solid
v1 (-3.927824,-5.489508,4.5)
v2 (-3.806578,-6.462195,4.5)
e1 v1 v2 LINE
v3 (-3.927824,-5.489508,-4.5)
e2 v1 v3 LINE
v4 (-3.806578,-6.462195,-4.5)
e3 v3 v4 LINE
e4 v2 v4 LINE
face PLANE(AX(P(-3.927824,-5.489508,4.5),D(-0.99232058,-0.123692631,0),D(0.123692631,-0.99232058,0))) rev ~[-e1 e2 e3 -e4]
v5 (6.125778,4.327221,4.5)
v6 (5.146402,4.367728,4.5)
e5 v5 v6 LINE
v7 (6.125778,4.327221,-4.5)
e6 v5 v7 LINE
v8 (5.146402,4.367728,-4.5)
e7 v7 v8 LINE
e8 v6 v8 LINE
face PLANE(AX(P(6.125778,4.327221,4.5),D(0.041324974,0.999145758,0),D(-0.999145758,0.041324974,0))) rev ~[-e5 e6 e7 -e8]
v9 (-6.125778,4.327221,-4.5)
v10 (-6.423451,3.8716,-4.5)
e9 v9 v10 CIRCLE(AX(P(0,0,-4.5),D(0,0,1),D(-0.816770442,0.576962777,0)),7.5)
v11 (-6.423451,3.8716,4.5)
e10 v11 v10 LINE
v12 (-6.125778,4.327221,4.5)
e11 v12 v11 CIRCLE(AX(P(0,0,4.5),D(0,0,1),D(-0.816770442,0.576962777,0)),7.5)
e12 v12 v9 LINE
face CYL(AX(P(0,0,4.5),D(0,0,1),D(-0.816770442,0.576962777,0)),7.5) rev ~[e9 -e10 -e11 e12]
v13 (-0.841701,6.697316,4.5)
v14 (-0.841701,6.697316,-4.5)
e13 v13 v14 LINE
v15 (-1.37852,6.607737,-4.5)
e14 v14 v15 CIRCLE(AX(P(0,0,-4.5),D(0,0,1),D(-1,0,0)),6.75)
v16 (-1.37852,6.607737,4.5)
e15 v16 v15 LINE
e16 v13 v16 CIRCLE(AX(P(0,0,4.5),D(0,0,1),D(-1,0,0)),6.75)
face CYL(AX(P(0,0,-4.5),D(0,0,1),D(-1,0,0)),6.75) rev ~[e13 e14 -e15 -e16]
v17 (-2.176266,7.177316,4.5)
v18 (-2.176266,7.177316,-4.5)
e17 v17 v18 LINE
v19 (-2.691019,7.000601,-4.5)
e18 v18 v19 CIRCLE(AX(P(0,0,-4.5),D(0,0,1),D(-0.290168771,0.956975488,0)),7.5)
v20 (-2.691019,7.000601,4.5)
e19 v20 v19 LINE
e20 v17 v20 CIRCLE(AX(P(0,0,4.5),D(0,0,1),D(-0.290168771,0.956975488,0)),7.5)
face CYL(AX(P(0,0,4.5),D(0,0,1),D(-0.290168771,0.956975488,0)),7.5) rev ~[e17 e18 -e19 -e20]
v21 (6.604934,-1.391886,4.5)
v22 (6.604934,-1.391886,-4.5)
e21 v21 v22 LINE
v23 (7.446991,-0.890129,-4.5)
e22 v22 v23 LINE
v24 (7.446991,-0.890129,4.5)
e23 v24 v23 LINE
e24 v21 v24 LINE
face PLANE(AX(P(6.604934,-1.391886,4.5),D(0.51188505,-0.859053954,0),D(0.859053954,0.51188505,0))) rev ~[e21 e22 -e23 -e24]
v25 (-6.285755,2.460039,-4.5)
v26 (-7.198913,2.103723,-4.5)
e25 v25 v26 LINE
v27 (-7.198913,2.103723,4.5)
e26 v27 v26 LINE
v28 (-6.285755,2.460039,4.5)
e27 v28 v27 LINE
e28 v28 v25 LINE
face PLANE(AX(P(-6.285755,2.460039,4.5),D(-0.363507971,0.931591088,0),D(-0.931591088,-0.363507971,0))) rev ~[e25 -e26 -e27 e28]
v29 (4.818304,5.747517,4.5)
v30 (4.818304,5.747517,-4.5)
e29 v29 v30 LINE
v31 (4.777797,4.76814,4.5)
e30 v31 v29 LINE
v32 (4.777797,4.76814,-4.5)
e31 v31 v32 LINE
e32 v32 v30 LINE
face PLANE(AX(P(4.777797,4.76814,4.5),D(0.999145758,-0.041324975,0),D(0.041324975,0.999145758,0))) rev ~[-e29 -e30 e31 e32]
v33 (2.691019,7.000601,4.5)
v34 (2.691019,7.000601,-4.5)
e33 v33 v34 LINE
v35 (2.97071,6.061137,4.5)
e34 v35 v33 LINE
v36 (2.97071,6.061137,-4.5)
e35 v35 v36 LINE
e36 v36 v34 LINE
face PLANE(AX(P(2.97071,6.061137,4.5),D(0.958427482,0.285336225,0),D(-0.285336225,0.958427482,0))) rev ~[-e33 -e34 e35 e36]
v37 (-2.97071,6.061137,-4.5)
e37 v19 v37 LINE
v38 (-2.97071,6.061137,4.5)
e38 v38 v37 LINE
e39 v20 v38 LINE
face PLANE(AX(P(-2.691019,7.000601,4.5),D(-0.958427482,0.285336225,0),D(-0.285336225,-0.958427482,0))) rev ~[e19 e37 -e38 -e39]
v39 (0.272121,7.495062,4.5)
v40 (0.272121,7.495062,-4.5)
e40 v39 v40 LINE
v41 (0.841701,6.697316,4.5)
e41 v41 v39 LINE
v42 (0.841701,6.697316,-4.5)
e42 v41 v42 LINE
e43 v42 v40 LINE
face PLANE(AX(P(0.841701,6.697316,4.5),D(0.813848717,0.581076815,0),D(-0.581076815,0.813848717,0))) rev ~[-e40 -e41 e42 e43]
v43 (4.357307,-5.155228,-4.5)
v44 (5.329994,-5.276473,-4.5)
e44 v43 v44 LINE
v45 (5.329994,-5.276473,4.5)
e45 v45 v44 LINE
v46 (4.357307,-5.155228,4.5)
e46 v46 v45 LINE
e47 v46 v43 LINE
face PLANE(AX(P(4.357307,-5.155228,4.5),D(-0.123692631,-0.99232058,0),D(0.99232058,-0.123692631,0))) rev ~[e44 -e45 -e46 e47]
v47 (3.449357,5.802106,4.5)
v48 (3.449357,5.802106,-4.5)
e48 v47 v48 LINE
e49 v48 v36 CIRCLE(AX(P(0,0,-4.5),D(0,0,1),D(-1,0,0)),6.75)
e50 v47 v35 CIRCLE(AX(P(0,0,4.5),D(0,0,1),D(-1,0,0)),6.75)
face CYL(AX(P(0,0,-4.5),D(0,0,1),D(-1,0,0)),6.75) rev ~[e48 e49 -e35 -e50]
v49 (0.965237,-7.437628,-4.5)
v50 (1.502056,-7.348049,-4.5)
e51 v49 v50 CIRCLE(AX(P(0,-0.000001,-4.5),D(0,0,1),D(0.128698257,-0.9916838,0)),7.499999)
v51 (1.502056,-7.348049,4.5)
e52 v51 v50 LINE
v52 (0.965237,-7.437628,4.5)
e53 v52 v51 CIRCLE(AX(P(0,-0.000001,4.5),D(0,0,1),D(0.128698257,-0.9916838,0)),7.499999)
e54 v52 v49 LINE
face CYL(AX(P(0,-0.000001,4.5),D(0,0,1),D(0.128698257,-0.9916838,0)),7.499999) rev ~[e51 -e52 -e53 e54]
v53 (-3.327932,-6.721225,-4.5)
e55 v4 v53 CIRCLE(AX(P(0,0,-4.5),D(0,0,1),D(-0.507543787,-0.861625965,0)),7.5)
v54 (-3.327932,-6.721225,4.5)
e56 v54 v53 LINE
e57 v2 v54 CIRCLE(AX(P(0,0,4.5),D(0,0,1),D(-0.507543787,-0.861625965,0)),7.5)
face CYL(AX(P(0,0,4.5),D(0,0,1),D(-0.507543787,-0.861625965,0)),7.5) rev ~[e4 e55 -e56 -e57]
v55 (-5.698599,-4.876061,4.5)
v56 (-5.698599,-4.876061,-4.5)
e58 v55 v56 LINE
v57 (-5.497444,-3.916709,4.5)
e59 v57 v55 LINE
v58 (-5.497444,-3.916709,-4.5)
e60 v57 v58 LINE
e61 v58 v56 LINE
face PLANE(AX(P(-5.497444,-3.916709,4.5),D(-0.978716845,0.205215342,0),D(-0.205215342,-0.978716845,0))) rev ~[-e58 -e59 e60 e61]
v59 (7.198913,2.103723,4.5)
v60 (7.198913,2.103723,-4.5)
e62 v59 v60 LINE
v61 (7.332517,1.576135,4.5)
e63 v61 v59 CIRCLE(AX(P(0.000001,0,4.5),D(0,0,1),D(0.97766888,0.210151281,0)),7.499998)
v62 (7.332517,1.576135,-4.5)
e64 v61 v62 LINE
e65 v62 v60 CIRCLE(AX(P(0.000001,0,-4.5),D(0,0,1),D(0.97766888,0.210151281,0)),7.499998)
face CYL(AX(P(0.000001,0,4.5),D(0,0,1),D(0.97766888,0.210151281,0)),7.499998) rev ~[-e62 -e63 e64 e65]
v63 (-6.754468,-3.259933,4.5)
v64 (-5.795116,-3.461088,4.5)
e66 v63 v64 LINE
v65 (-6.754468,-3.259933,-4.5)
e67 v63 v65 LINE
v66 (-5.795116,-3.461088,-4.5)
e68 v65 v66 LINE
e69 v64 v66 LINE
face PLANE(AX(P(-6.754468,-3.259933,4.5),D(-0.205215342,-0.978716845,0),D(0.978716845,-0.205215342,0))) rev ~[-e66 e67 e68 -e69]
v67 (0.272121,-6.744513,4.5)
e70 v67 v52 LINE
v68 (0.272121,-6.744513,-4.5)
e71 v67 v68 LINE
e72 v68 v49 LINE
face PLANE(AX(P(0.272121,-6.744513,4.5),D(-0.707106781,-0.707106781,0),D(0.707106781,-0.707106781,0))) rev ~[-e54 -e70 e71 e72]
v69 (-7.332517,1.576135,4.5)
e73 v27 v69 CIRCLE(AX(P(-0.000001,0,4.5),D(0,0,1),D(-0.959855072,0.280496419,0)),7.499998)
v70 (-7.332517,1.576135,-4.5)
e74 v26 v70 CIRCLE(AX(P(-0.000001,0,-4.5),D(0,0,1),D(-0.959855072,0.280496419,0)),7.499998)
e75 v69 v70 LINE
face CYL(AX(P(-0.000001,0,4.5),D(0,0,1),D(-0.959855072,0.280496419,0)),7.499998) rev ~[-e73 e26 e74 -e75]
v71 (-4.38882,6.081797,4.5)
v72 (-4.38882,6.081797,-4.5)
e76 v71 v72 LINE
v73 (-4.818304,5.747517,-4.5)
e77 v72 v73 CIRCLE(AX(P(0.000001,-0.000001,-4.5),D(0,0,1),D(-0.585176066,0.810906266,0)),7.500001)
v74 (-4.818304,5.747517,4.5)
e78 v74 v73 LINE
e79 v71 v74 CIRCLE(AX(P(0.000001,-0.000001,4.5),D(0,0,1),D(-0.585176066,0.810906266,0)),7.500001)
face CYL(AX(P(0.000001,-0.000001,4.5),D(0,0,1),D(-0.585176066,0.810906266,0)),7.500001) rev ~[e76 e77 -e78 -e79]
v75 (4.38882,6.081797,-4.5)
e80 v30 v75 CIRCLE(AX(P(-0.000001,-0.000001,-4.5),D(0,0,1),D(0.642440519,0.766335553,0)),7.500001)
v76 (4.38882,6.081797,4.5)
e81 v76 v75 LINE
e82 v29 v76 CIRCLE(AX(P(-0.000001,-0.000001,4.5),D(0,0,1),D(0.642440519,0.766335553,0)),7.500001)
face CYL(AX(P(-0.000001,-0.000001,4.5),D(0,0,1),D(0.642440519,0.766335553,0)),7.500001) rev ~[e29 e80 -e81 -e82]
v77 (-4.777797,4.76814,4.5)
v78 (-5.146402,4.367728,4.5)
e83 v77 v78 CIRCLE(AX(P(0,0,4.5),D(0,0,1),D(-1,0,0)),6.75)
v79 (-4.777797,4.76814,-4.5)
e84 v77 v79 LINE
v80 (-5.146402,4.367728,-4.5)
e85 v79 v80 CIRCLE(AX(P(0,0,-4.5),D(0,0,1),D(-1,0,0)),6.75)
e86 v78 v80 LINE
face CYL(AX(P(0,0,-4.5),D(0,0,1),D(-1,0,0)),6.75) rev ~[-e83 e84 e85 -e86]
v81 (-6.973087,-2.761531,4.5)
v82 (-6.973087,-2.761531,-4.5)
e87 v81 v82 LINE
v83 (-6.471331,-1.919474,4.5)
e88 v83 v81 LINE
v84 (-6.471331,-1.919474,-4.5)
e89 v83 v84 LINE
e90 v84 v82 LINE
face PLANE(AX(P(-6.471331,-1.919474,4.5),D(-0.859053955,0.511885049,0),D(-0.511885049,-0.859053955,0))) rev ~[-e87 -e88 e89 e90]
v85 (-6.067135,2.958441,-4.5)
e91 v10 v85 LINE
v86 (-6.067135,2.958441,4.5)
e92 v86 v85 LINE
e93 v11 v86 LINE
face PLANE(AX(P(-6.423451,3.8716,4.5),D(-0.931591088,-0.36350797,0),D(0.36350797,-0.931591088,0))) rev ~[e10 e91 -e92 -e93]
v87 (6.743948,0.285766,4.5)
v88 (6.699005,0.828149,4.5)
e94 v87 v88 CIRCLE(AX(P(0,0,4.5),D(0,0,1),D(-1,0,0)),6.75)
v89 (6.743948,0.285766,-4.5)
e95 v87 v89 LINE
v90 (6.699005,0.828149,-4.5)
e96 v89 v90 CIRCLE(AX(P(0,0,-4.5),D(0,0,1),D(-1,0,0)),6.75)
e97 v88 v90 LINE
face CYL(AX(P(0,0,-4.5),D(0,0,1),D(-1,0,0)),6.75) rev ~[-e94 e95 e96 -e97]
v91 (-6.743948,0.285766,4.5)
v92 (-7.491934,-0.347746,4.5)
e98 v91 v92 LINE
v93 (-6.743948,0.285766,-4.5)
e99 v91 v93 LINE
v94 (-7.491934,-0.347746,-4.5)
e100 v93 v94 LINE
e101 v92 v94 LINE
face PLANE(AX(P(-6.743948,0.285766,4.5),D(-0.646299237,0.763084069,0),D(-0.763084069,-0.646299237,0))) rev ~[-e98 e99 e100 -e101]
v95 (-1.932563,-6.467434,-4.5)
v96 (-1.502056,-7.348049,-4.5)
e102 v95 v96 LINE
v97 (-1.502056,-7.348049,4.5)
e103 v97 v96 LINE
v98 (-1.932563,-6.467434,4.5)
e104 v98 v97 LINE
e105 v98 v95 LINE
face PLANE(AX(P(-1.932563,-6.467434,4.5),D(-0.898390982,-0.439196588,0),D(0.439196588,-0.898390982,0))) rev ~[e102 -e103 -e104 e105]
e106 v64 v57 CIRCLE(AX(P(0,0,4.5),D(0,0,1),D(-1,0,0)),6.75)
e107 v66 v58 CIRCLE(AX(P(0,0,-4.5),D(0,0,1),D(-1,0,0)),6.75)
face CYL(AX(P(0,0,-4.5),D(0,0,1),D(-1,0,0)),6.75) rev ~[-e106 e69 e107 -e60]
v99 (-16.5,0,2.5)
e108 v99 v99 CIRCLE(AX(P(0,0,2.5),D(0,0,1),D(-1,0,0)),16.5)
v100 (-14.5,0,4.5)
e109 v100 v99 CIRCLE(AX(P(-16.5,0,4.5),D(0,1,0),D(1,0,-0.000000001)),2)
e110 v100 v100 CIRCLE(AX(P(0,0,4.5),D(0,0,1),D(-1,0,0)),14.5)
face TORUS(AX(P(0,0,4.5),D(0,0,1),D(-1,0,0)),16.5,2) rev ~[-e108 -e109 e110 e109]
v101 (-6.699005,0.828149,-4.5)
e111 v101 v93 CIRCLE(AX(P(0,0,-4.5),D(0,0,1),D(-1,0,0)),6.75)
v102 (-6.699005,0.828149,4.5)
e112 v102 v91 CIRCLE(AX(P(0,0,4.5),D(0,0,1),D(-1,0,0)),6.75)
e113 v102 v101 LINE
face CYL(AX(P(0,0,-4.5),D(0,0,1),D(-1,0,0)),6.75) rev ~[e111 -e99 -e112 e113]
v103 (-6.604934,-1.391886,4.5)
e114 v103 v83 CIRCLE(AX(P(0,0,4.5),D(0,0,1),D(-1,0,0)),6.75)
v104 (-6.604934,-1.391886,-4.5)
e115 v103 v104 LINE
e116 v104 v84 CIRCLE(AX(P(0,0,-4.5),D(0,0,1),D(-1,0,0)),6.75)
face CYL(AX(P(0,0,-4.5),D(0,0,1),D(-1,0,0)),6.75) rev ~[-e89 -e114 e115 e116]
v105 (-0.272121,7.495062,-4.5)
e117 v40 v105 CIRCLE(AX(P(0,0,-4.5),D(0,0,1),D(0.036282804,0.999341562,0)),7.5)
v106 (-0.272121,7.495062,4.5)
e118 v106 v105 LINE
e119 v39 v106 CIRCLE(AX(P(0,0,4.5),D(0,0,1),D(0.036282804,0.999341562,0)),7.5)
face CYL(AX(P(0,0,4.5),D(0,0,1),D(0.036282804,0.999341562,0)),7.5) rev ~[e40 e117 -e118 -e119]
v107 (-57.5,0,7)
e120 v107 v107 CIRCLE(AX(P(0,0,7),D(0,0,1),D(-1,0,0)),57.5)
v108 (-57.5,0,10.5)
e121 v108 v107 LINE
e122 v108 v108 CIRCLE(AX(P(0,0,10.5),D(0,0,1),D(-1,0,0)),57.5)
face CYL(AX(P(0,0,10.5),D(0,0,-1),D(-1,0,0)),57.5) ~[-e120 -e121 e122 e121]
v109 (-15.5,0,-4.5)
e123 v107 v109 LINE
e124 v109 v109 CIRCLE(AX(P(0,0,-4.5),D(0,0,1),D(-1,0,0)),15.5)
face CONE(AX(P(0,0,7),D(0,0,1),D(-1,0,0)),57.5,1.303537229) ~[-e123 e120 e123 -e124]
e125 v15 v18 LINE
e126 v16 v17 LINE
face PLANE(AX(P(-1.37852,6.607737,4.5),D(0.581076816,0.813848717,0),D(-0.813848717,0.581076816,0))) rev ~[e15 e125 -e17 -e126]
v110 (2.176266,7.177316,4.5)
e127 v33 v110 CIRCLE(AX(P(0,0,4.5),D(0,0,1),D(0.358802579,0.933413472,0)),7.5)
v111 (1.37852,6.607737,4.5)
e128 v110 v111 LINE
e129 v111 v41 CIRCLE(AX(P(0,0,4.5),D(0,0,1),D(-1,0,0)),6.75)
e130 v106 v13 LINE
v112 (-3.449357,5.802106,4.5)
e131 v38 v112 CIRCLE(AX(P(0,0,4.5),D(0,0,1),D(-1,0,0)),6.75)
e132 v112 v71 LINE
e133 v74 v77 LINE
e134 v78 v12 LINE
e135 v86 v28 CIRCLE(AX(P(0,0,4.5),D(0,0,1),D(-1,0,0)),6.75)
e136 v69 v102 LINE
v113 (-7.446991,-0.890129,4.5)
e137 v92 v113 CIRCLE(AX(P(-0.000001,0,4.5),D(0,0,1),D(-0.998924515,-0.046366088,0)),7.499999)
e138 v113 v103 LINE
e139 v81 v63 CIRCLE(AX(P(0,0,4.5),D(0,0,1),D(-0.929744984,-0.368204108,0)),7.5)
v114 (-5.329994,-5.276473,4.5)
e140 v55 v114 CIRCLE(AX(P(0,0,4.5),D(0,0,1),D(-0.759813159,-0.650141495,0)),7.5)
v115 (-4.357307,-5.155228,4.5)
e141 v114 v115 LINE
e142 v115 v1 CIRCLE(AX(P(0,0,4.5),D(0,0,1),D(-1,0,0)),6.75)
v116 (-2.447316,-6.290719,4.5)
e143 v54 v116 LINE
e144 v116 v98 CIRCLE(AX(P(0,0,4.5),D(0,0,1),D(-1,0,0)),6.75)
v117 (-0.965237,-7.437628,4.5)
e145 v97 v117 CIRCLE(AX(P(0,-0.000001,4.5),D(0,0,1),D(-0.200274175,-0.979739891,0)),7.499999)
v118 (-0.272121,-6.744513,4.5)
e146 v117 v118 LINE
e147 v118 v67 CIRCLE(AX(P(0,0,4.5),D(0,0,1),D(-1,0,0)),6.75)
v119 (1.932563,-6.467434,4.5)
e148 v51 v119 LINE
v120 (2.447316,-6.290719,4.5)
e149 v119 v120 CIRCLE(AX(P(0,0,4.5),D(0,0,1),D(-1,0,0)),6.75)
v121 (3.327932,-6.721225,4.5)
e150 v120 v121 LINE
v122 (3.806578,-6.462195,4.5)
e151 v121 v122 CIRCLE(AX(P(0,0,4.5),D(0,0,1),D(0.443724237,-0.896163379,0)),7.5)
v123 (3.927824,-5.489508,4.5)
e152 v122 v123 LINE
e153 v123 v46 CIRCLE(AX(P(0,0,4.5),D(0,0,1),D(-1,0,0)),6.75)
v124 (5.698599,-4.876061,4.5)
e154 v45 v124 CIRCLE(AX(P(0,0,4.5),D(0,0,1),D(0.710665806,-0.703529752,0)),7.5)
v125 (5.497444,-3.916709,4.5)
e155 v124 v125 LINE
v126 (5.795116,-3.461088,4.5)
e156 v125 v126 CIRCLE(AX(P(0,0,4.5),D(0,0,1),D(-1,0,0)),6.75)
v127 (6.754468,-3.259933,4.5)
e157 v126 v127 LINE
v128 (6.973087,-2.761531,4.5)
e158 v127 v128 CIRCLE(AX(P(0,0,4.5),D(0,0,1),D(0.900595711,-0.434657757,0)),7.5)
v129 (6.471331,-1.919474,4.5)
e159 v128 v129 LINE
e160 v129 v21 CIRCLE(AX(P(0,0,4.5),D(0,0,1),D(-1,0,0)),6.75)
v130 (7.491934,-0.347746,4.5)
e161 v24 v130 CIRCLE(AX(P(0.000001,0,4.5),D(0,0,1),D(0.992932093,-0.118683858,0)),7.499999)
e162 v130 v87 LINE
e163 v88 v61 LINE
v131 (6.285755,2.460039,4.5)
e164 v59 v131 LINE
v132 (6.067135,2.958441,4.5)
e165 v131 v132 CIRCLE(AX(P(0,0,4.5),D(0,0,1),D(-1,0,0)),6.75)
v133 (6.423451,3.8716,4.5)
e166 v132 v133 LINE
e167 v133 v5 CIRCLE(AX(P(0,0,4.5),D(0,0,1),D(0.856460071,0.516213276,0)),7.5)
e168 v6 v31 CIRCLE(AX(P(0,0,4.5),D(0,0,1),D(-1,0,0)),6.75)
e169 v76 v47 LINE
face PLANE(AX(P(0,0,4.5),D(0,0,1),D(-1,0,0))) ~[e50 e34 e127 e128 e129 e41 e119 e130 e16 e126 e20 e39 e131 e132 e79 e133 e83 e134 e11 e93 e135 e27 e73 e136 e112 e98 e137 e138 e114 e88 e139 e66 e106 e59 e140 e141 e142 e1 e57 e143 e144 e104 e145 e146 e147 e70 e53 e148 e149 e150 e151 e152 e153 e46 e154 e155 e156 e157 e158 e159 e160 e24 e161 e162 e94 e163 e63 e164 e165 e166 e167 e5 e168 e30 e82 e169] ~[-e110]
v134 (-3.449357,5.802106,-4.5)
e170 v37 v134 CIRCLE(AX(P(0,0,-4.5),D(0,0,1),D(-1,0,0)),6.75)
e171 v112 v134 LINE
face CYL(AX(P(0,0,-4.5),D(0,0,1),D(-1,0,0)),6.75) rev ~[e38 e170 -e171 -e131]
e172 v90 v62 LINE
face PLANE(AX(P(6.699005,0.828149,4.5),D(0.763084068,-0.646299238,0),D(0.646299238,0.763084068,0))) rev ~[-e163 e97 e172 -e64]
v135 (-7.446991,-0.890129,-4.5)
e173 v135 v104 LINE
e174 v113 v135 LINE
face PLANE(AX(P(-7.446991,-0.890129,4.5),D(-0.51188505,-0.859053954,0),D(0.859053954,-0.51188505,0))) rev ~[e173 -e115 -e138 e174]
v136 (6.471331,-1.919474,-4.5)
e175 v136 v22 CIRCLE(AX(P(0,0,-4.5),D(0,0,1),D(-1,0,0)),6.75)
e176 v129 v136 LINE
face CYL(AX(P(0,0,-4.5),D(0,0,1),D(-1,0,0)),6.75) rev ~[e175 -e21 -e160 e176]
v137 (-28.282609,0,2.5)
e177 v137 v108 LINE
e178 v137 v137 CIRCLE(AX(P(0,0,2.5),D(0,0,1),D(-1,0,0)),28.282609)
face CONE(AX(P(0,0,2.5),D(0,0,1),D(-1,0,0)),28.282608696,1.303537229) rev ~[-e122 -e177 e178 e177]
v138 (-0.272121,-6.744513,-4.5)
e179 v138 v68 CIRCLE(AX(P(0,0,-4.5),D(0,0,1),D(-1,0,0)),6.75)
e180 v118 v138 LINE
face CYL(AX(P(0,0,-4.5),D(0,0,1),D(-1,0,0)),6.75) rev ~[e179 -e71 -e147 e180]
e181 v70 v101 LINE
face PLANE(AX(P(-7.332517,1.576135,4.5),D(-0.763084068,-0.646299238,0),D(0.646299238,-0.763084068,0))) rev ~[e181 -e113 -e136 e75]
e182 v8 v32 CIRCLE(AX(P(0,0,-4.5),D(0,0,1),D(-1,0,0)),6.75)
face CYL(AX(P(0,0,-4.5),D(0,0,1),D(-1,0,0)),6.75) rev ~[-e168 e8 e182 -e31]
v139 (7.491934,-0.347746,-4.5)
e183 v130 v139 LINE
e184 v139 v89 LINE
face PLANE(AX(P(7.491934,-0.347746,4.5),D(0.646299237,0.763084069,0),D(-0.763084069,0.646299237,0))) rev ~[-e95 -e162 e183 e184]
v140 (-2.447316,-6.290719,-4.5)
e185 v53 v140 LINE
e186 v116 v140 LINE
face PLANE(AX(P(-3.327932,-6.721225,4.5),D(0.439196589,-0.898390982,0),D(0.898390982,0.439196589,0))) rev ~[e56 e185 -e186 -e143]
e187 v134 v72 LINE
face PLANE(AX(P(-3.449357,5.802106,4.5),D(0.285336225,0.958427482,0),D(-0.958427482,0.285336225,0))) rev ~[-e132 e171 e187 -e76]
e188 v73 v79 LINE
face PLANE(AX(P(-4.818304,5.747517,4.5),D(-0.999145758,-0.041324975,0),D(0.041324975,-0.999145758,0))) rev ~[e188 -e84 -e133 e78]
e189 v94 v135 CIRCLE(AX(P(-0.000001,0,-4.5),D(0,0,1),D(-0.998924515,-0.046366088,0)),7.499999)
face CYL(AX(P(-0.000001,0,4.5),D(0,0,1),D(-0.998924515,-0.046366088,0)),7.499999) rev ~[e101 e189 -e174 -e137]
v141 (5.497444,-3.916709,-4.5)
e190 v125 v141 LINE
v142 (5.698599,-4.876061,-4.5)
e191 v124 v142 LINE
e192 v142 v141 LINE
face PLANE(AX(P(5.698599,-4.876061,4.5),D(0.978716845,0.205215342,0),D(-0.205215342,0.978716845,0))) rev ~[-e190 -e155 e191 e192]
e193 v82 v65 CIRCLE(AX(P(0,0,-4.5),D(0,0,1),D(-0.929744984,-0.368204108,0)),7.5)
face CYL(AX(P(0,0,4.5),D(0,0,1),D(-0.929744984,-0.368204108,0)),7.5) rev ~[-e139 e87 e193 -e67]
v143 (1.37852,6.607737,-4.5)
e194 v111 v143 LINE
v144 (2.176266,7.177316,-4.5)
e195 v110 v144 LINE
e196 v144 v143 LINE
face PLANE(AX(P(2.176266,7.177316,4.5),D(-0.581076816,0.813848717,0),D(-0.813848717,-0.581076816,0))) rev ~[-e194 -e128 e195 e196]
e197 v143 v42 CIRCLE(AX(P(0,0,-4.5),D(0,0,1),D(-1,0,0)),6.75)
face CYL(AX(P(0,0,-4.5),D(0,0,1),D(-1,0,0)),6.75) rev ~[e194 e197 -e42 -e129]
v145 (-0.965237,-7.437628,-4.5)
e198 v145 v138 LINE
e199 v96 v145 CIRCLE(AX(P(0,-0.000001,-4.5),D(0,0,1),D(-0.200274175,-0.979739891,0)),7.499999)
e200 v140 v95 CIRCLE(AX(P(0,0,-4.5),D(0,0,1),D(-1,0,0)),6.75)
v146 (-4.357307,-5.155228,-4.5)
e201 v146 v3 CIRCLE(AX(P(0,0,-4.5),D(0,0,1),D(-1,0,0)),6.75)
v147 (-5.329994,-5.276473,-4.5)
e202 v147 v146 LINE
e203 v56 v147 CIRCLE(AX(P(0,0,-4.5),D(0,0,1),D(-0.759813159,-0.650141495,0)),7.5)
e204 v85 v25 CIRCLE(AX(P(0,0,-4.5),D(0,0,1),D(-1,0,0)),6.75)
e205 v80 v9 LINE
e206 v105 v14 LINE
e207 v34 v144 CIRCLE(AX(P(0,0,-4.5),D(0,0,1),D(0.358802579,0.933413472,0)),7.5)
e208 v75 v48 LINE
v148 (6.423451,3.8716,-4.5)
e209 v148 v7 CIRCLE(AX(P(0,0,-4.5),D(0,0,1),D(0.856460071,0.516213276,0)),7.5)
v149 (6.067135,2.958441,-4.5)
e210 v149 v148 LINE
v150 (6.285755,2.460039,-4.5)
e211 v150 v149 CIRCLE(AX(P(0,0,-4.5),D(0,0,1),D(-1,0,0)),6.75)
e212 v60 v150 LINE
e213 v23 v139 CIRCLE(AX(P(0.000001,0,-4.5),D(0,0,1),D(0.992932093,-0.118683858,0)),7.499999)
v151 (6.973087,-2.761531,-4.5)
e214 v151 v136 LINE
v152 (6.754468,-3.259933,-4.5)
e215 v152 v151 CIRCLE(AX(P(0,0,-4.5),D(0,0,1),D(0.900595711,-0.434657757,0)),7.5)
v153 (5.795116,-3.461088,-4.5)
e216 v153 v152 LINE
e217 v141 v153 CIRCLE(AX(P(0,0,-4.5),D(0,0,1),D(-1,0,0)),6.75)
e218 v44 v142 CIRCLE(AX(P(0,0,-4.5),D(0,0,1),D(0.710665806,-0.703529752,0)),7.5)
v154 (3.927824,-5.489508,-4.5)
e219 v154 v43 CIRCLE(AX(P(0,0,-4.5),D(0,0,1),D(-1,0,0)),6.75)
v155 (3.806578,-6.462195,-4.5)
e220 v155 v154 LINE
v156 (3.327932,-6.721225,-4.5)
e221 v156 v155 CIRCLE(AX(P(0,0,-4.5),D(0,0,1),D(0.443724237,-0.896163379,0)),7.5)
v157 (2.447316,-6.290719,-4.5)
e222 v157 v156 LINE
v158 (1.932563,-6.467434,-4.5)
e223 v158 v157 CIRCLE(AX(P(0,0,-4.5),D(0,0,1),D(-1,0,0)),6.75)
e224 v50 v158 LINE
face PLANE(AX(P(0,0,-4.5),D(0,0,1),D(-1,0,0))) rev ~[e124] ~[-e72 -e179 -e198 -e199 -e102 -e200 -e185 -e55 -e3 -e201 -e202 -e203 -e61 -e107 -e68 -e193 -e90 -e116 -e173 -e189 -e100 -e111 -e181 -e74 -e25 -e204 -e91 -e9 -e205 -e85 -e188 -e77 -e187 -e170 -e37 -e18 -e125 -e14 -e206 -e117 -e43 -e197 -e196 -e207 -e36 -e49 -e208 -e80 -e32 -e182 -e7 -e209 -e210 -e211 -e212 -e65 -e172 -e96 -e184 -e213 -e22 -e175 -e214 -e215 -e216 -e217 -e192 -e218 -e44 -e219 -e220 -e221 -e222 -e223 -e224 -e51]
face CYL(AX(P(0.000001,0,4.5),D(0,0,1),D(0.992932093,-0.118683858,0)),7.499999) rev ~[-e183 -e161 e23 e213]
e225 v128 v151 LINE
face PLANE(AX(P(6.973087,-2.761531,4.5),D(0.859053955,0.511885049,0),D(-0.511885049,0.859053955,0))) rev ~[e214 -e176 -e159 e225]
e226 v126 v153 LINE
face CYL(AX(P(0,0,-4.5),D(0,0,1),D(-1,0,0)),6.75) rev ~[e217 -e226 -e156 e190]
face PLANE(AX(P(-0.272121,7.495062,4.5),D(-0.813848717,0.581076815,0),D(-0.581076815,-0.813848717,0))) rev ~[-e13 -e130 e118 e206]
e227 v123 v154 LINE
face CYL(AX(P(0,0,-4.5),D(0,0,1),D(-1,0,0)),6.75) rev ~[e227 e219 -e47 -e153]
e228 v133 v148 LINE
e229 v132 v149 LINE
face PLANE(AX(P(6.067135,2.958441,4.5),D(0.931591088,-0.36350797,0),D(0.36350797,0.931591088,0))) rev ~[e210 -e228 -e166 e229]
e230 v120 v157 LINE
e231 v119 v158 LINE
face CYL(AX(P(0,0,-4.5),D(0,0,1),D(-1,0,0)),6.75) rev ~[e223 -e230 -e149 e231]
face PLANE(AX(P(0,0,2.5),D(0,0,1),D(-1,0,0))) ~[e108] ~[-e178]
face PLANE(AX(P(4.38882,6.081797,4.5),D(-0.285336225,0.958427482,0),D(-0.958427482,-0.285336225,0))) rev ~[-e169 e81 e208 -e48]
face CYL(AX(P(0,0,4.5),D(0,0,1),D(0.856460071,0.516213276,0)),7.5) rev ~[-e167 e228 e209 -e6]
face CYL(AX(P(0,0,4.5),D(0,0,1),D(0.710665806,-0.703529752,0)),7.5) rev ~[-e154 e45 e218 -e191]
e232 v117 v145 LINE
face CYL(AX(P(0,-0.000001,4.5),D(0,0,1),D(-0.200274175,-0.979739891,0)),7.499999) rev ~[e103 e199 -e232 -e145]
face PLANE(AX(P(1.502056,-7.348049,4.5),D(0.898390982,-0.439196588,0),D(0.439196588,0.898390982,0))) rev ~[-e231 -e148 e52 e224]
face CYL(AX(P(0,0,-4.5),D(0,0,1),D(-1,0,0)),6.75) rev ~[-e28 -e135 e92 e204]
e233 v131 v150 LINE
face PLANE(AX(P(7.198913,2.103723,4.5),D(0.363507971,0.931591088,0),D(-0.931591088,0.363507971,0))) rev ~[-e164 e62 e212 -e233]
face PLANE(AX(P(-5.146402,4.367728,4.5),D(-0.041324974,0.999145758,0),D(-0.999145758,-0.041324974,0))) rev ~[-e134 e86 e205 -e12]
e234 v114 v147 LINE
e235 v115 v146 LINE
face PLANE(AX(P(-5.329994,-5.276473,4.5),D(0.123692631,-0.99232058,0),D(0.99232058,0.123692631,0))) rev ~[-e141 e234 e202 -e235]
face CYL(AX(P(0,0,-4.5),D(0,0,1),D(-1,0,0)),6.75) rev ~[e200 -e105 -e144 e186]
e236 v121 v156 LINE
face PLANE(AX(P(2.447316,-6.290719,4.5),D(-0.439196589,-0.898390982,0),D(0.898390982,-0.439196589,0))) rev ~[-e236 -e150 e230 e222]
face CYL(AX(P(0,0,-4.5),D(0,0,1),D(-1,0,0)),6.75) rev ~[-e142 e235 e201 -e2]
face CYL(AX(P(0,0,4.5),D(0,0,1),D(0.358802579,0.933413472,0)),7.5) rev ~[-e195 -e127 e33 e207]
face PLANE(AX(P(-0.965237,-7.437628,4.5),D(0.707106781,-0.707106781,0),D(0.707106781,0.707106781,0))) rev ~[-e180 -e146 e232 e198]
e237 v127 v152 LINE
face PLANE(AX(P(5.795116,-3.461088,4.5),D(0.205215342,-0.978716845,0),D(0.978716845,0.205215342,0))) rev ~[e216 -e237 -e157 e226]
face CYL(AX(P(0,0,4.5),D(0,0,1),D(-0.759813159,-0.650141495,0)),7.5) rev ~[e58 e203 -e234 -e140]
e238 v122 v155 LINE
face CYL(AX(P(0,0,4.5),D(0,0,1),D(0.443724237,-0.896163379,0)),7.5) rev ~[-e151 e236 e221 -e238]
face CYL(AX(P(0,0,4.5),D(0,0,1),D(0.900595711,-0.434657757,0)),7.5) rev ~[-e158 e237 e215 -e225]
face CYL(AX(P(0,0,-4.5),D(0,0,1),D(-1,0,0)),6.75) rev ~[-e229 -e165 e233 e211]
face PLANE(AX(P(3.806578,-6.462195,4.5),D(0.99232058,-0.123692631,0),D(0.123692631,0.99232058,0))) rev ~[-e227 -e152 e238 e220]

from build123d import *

# Parameters (mm, degrees)
CUT_EXTRUDE2_DEPTH = 82.813813015


with BuildPart() as part:
    # Sketch1 → Revolve1 (revolve)
    with BuildSketch(Plane(origin=(0, 0, 0), x_dir=(0, 0, -1), z_dir=(1, 0, 0)), mode=Mode.PRIVATE) as revolve1_sk:
        with BuildLine():
            Line((4.5, 6.75), (-4.5, 6.75))
            Line((-4.5, 6.75), (-4.5, 14.5))
            ThreePointArc((-4.5, 14.5), (-3.085786438, 15.085786438), (-2.5, 16.5))
            Line((-2.5, 16.5), (-2.5, 28.282608696))
            Line((-2.5, 28.282608696), (-10.5, 57.5))
            Line((-10.5, 57.5), (-7, 57.5))
            Line((-7, 57.5), (4.5, 15.5))
            Line((4.5, 15.5), (4.5, 6.75))
        make_face()
    revolve(revolve1_sk.sketch.rotate(Axis((0, 0, 0), (0, 0, 1)), 90), axis=Axis((0, 0, 0), (0, 0, 1)))

    # Sketch5 → Cut-Extrude2 (cut, through all)
    with BuildSketch(Plane.XY.offset(4.5)):
        with BuildLine():
            Line((-0.272121044, 7.495061717), (-0.84170062, 6.697315885))
            ThreePointArc((-0.84170062, 6.697315885), (0, 6.75), (0.84170062, 6.697315885))
            Line((0.84170062, 6.697315885), (0.272121044, 7.495061717))
            ThreePointArc((0.272121044, 7.495061717), (0, 7.5), (-0.272121044, 7.495061717))
        make_face()
        with BuildLine():
            Line((2.176265786, 7.177316158), (1.378519955, 6.607736582))
            ThreePointArc((1.378519955, 6.607736582), (2.191721417, 6.384266381), (2.970709872, 6.061137093))
            Line((2.970709872, 6.061137093), (2.691019336, 7.000601041))
            ThreePointArc((2.691019336, 7.000601041), (2.435246019, 7.093629313), (2.176265786, 7.177316158))
        make_face()
        with BuildLine():
            Line((4.38882045, 6.081797026), (3.449356502, 5.80210649))
            ThreePointArc((3.449356502, 5.80210649), (4.145935811, 5.326698438), (4.777796613, 4.768140048))
            Line((4.777796613, 4.768140048), (4.818303928, 5.747516617))
            ThreePointArc((4.818303928, 5.747516617), (4.606595345, 5.91855382), (4.38882045, 6.081797026))
        make_face()
        with BuildLine():
            Line((6.125778318, 4.327220817), (5.14640175, 4.367728131))
            ThreePointArc((5.14640175, 4.367728131), (5.650873728, 3.691900067), (6.067134957, 2.958441044))
            Line((6.067134957, 2.958441044), (6.423450525, 3.871599585))
            ThreePointArc((6.423450525, 3.871599585), (6.278748587, 4.102111186), (6.125778318, 4.327220817))
        make_face()
        with BuildLine():
            Line((7.198913054, 2.103723089), (6.285754514, 2.460038657))
            ThreePointArc((6.285754514, 2.460038657), (6.543451795, 1.657027038), (6.699005087, 0.828149048))
            Line((6.699005087, 0.828149048), (7.332516588, 1.576134664))
            ThreePointArc((7.332516588, 1.576134664), (7.270501995, 1.841141154), (7.198913054, 2.103723089))
        make_face()
        with BuildLine():
            Line((7.491933859, -0.347745678), (6.743948242, 0.285765823))
            ThreePointArc((6.743948242, 0.285765823), (6.726945328, -0.557410582), (6.60493407, -1.391885748))
            Line((6.60493407, -1.391885748), (7.446990703, -0.890128903))
            ThreePointArc((7.446990703, -0.890128903), (7.474383698, -0.619345091), (7.491933859, -0.347745678))
        make_face()
        with BuildLine():
            Line((6.97308738, -2.761530806), (6.471330536, -1.919474172))
            ThreePointArc((6.471330536, -1.919474172), (6.181469955, -2.711444116), (5.79511596, -3.461088125))
            Line((5.79511596, -3.461088125), (6.754467824, -3.259933193))
            ThreePointArc((6.754467824, -3.259933193), (6.86829995, -3.012715685), (6.97308738, -2.761530806))
        make_face()
        with BuildLine():
            Line((5.698598685, -4.87606122), (5.497443753, -3.916709357))
            ThreePointArc((5.497443753, -3.916709357), (4.966136397, -4.571650608), (4.357307116, -5.1552279))
            Line((4.357307116, -5.1552279), (5.329993549, -5.276473137))
            ThreePointArc((5.329993549, -5.276473137), (5.51792933, -5.079611787), (5.698598685, -4.87606122))
        make_face()
        with BuildLine():
            Line((3.8065784, -6.462194742), (3.927823637, -5.489508309))
            ThreePointArc((3.927823637, -5.489508309), (3.212644903, -5.936447821), (2.447316435, -6.29071874))
            Line((2.447316435, -6.29071874), (3.32793177, -6.721225345))
            ThreePointArc((3.32793177, -6.721225345), (3.569605448, -6.596053134), (3.8065784, -6.462194742))
        make_face()
        with BuildLine():
            Line((1.50205628, -7.348049192), (1.932562884, -6.467433857))
            ThreePointArc((1.932562884, -6.467433857), (1.111013484, -6.657938798), (0.272121044, -6.744512595))
            Line((0.272121044, -6.744512595), (0.965236945, -7.437628496))
            ThreePointArc((0.965236945, -7.437628496), (1.234459427, -7.397709776), (1.50205628, -7.348049192))
        make_face()
        with BuildLine():
            Line((-0.965236945, -7.437628496), (-0.272121044, -6.744512595))
            ThreePointArc((-0.272121044, -6.744512595), (-1.111013484, -6.657938798), (-1.932562884, -6.467433857))
            Line((-1.932562884, -6.467433857), (-1.50205628, -7.348049192))
            ThreePointArc((-1.50205628, -7.348049192), (-1.234459427, -7.397709776), (-0.965236945, -7.437628496))
        make_face()
        with BuildLine():
            Line((-3.32793177, -6.721225345), (-2.447316435, -6.29071874))
            ThreePointArc((-2.447316435, -6.29071874), (-3.212644903, -5.936447821), (-3.927823637, -5.489508309))
            Line((-3.927823637, -5.489508309), (-3.8065784, -6.462194742))
            ThreePointArc((-3.8065784, -6.462194742), (-3.569605448, -6.596053134), (-3.32793177, -6.721225345))
        make_face()
        with BuildLine():
            Line((-5.329993549, -5.276473137), (-4.357307116, -5.1552279))
            ThreePointArc((-4.357307116, -5.1552279), (-4.966136397, -4.571650608), (-5.497443753, -3.916709357))
            Line((-5.497443753, -3.916709357), (-5.698598685, -4.87606122))
            ThreePointArc((-5.698598685, -4.87606122), (-5.51792933, -5.079611787), (-5.329993549, -5.276473137))
        make_face()
        with BuildLine():
            Line((-6.754467824, -3.259933193), (-5.79511596, -3.461088125))
            ThreePointArc((-5.79511596, -3.461088125), (-6.181469955, -2.711444116), (-6.471330536, -1.919474172))
            Line((-6.471330536, -1.919474172), (-6.97308738, -2.761530806))
            ThreePointArc((-6.97308738, -2.761530806), (-6.86829995, -3.012715685), (-6.754467824, -3.259933193))
        make_face()
        with BuildLine():
            Line((-7.446990703, -0.890128903), (-6.60493407, -1.391885748))
            ThreePointArc((-6.60493407, -1.391885748), (-6.726945328, -0.557410582), (-6.743948242, 0.285765823))
            Line((-6.743948242, 0.285765823), (-7.491933859, -0.347745678))
            ThreePointArc((-7.491933859, -0.347745678), (-7.474383698, -0.619345091), (-7.446990703, -0.890128903))
        make_face()
        with BuildLine():
            Line((-7.332516588, 1.576134664), (-6.699005087, 0.828149048))
            ThreePointArc((-6.699005087, 0.828149048), (-6.543451795, 1.657027038), (-6.285754514, 2.460038657))
            Line((-6.285754514, 2.460038657), (-7.198913054, 2.103723089))
            ThreePointArc((-7.198913054, 2.103723089), (-7.270501995, 1.841141154), (-7.332516588, 1.576134664))
        make_face()
        with BuildLine():
            Line((-6.423450525, 3.871599585), (-6.067134957, 2.958441044))
            ThreePointArc((-6.067134957, 2.958441044), (-5.650873728, 3.691900067), (-5.14640175, 4.367728131))
            Line((-5.14640175, 4.367728131), (-6.125778318, 4.327220817))
            ThreePointArc((-6.125778318, 4.327220817), (-6.278748587, 4.102111186), (-6.423450525, 3.871599585))
        make_face()
        with BuildLine():
            Line((-4.818303928, 5.747516617), (-4.777796613, 4.768140048))
            ThreePointArc((-4.777796613, 4.768140048), (-4.145935811, 5.326698438), (-3.449356502, 5.80210649))
            Line((-3.449356502, 5.80210649), (-4.38882045, 6.081797026))
            ThreePointArc((-4.38882045, 6.081797026), (-4.606595345, 5.91855382), (-4.818303928, 5.747516617))
        make_face()
        with BuildLine():
            Line((-2.691019336, 7.000601041), (-2.970709872, 6.061137093))
            ThreePointArc((-2.970709872, 6.061137093), (-2.191721417, 6.384266381), (-1.378519955, 6.607736582))
            Line((-1.378519955, 6.607736582), (-2.176265786, 7.177316158))
            ThreePointArc((-2.176265786, 7.177316158), (-2.435246019, 7.093629313), (-2.691019336, 7.000601041))
        make_face()
    extrude(amount=-CUT_EXTRUDE2_DEPTH, mode=Mode.SUBTRACT)


solid = part.part
